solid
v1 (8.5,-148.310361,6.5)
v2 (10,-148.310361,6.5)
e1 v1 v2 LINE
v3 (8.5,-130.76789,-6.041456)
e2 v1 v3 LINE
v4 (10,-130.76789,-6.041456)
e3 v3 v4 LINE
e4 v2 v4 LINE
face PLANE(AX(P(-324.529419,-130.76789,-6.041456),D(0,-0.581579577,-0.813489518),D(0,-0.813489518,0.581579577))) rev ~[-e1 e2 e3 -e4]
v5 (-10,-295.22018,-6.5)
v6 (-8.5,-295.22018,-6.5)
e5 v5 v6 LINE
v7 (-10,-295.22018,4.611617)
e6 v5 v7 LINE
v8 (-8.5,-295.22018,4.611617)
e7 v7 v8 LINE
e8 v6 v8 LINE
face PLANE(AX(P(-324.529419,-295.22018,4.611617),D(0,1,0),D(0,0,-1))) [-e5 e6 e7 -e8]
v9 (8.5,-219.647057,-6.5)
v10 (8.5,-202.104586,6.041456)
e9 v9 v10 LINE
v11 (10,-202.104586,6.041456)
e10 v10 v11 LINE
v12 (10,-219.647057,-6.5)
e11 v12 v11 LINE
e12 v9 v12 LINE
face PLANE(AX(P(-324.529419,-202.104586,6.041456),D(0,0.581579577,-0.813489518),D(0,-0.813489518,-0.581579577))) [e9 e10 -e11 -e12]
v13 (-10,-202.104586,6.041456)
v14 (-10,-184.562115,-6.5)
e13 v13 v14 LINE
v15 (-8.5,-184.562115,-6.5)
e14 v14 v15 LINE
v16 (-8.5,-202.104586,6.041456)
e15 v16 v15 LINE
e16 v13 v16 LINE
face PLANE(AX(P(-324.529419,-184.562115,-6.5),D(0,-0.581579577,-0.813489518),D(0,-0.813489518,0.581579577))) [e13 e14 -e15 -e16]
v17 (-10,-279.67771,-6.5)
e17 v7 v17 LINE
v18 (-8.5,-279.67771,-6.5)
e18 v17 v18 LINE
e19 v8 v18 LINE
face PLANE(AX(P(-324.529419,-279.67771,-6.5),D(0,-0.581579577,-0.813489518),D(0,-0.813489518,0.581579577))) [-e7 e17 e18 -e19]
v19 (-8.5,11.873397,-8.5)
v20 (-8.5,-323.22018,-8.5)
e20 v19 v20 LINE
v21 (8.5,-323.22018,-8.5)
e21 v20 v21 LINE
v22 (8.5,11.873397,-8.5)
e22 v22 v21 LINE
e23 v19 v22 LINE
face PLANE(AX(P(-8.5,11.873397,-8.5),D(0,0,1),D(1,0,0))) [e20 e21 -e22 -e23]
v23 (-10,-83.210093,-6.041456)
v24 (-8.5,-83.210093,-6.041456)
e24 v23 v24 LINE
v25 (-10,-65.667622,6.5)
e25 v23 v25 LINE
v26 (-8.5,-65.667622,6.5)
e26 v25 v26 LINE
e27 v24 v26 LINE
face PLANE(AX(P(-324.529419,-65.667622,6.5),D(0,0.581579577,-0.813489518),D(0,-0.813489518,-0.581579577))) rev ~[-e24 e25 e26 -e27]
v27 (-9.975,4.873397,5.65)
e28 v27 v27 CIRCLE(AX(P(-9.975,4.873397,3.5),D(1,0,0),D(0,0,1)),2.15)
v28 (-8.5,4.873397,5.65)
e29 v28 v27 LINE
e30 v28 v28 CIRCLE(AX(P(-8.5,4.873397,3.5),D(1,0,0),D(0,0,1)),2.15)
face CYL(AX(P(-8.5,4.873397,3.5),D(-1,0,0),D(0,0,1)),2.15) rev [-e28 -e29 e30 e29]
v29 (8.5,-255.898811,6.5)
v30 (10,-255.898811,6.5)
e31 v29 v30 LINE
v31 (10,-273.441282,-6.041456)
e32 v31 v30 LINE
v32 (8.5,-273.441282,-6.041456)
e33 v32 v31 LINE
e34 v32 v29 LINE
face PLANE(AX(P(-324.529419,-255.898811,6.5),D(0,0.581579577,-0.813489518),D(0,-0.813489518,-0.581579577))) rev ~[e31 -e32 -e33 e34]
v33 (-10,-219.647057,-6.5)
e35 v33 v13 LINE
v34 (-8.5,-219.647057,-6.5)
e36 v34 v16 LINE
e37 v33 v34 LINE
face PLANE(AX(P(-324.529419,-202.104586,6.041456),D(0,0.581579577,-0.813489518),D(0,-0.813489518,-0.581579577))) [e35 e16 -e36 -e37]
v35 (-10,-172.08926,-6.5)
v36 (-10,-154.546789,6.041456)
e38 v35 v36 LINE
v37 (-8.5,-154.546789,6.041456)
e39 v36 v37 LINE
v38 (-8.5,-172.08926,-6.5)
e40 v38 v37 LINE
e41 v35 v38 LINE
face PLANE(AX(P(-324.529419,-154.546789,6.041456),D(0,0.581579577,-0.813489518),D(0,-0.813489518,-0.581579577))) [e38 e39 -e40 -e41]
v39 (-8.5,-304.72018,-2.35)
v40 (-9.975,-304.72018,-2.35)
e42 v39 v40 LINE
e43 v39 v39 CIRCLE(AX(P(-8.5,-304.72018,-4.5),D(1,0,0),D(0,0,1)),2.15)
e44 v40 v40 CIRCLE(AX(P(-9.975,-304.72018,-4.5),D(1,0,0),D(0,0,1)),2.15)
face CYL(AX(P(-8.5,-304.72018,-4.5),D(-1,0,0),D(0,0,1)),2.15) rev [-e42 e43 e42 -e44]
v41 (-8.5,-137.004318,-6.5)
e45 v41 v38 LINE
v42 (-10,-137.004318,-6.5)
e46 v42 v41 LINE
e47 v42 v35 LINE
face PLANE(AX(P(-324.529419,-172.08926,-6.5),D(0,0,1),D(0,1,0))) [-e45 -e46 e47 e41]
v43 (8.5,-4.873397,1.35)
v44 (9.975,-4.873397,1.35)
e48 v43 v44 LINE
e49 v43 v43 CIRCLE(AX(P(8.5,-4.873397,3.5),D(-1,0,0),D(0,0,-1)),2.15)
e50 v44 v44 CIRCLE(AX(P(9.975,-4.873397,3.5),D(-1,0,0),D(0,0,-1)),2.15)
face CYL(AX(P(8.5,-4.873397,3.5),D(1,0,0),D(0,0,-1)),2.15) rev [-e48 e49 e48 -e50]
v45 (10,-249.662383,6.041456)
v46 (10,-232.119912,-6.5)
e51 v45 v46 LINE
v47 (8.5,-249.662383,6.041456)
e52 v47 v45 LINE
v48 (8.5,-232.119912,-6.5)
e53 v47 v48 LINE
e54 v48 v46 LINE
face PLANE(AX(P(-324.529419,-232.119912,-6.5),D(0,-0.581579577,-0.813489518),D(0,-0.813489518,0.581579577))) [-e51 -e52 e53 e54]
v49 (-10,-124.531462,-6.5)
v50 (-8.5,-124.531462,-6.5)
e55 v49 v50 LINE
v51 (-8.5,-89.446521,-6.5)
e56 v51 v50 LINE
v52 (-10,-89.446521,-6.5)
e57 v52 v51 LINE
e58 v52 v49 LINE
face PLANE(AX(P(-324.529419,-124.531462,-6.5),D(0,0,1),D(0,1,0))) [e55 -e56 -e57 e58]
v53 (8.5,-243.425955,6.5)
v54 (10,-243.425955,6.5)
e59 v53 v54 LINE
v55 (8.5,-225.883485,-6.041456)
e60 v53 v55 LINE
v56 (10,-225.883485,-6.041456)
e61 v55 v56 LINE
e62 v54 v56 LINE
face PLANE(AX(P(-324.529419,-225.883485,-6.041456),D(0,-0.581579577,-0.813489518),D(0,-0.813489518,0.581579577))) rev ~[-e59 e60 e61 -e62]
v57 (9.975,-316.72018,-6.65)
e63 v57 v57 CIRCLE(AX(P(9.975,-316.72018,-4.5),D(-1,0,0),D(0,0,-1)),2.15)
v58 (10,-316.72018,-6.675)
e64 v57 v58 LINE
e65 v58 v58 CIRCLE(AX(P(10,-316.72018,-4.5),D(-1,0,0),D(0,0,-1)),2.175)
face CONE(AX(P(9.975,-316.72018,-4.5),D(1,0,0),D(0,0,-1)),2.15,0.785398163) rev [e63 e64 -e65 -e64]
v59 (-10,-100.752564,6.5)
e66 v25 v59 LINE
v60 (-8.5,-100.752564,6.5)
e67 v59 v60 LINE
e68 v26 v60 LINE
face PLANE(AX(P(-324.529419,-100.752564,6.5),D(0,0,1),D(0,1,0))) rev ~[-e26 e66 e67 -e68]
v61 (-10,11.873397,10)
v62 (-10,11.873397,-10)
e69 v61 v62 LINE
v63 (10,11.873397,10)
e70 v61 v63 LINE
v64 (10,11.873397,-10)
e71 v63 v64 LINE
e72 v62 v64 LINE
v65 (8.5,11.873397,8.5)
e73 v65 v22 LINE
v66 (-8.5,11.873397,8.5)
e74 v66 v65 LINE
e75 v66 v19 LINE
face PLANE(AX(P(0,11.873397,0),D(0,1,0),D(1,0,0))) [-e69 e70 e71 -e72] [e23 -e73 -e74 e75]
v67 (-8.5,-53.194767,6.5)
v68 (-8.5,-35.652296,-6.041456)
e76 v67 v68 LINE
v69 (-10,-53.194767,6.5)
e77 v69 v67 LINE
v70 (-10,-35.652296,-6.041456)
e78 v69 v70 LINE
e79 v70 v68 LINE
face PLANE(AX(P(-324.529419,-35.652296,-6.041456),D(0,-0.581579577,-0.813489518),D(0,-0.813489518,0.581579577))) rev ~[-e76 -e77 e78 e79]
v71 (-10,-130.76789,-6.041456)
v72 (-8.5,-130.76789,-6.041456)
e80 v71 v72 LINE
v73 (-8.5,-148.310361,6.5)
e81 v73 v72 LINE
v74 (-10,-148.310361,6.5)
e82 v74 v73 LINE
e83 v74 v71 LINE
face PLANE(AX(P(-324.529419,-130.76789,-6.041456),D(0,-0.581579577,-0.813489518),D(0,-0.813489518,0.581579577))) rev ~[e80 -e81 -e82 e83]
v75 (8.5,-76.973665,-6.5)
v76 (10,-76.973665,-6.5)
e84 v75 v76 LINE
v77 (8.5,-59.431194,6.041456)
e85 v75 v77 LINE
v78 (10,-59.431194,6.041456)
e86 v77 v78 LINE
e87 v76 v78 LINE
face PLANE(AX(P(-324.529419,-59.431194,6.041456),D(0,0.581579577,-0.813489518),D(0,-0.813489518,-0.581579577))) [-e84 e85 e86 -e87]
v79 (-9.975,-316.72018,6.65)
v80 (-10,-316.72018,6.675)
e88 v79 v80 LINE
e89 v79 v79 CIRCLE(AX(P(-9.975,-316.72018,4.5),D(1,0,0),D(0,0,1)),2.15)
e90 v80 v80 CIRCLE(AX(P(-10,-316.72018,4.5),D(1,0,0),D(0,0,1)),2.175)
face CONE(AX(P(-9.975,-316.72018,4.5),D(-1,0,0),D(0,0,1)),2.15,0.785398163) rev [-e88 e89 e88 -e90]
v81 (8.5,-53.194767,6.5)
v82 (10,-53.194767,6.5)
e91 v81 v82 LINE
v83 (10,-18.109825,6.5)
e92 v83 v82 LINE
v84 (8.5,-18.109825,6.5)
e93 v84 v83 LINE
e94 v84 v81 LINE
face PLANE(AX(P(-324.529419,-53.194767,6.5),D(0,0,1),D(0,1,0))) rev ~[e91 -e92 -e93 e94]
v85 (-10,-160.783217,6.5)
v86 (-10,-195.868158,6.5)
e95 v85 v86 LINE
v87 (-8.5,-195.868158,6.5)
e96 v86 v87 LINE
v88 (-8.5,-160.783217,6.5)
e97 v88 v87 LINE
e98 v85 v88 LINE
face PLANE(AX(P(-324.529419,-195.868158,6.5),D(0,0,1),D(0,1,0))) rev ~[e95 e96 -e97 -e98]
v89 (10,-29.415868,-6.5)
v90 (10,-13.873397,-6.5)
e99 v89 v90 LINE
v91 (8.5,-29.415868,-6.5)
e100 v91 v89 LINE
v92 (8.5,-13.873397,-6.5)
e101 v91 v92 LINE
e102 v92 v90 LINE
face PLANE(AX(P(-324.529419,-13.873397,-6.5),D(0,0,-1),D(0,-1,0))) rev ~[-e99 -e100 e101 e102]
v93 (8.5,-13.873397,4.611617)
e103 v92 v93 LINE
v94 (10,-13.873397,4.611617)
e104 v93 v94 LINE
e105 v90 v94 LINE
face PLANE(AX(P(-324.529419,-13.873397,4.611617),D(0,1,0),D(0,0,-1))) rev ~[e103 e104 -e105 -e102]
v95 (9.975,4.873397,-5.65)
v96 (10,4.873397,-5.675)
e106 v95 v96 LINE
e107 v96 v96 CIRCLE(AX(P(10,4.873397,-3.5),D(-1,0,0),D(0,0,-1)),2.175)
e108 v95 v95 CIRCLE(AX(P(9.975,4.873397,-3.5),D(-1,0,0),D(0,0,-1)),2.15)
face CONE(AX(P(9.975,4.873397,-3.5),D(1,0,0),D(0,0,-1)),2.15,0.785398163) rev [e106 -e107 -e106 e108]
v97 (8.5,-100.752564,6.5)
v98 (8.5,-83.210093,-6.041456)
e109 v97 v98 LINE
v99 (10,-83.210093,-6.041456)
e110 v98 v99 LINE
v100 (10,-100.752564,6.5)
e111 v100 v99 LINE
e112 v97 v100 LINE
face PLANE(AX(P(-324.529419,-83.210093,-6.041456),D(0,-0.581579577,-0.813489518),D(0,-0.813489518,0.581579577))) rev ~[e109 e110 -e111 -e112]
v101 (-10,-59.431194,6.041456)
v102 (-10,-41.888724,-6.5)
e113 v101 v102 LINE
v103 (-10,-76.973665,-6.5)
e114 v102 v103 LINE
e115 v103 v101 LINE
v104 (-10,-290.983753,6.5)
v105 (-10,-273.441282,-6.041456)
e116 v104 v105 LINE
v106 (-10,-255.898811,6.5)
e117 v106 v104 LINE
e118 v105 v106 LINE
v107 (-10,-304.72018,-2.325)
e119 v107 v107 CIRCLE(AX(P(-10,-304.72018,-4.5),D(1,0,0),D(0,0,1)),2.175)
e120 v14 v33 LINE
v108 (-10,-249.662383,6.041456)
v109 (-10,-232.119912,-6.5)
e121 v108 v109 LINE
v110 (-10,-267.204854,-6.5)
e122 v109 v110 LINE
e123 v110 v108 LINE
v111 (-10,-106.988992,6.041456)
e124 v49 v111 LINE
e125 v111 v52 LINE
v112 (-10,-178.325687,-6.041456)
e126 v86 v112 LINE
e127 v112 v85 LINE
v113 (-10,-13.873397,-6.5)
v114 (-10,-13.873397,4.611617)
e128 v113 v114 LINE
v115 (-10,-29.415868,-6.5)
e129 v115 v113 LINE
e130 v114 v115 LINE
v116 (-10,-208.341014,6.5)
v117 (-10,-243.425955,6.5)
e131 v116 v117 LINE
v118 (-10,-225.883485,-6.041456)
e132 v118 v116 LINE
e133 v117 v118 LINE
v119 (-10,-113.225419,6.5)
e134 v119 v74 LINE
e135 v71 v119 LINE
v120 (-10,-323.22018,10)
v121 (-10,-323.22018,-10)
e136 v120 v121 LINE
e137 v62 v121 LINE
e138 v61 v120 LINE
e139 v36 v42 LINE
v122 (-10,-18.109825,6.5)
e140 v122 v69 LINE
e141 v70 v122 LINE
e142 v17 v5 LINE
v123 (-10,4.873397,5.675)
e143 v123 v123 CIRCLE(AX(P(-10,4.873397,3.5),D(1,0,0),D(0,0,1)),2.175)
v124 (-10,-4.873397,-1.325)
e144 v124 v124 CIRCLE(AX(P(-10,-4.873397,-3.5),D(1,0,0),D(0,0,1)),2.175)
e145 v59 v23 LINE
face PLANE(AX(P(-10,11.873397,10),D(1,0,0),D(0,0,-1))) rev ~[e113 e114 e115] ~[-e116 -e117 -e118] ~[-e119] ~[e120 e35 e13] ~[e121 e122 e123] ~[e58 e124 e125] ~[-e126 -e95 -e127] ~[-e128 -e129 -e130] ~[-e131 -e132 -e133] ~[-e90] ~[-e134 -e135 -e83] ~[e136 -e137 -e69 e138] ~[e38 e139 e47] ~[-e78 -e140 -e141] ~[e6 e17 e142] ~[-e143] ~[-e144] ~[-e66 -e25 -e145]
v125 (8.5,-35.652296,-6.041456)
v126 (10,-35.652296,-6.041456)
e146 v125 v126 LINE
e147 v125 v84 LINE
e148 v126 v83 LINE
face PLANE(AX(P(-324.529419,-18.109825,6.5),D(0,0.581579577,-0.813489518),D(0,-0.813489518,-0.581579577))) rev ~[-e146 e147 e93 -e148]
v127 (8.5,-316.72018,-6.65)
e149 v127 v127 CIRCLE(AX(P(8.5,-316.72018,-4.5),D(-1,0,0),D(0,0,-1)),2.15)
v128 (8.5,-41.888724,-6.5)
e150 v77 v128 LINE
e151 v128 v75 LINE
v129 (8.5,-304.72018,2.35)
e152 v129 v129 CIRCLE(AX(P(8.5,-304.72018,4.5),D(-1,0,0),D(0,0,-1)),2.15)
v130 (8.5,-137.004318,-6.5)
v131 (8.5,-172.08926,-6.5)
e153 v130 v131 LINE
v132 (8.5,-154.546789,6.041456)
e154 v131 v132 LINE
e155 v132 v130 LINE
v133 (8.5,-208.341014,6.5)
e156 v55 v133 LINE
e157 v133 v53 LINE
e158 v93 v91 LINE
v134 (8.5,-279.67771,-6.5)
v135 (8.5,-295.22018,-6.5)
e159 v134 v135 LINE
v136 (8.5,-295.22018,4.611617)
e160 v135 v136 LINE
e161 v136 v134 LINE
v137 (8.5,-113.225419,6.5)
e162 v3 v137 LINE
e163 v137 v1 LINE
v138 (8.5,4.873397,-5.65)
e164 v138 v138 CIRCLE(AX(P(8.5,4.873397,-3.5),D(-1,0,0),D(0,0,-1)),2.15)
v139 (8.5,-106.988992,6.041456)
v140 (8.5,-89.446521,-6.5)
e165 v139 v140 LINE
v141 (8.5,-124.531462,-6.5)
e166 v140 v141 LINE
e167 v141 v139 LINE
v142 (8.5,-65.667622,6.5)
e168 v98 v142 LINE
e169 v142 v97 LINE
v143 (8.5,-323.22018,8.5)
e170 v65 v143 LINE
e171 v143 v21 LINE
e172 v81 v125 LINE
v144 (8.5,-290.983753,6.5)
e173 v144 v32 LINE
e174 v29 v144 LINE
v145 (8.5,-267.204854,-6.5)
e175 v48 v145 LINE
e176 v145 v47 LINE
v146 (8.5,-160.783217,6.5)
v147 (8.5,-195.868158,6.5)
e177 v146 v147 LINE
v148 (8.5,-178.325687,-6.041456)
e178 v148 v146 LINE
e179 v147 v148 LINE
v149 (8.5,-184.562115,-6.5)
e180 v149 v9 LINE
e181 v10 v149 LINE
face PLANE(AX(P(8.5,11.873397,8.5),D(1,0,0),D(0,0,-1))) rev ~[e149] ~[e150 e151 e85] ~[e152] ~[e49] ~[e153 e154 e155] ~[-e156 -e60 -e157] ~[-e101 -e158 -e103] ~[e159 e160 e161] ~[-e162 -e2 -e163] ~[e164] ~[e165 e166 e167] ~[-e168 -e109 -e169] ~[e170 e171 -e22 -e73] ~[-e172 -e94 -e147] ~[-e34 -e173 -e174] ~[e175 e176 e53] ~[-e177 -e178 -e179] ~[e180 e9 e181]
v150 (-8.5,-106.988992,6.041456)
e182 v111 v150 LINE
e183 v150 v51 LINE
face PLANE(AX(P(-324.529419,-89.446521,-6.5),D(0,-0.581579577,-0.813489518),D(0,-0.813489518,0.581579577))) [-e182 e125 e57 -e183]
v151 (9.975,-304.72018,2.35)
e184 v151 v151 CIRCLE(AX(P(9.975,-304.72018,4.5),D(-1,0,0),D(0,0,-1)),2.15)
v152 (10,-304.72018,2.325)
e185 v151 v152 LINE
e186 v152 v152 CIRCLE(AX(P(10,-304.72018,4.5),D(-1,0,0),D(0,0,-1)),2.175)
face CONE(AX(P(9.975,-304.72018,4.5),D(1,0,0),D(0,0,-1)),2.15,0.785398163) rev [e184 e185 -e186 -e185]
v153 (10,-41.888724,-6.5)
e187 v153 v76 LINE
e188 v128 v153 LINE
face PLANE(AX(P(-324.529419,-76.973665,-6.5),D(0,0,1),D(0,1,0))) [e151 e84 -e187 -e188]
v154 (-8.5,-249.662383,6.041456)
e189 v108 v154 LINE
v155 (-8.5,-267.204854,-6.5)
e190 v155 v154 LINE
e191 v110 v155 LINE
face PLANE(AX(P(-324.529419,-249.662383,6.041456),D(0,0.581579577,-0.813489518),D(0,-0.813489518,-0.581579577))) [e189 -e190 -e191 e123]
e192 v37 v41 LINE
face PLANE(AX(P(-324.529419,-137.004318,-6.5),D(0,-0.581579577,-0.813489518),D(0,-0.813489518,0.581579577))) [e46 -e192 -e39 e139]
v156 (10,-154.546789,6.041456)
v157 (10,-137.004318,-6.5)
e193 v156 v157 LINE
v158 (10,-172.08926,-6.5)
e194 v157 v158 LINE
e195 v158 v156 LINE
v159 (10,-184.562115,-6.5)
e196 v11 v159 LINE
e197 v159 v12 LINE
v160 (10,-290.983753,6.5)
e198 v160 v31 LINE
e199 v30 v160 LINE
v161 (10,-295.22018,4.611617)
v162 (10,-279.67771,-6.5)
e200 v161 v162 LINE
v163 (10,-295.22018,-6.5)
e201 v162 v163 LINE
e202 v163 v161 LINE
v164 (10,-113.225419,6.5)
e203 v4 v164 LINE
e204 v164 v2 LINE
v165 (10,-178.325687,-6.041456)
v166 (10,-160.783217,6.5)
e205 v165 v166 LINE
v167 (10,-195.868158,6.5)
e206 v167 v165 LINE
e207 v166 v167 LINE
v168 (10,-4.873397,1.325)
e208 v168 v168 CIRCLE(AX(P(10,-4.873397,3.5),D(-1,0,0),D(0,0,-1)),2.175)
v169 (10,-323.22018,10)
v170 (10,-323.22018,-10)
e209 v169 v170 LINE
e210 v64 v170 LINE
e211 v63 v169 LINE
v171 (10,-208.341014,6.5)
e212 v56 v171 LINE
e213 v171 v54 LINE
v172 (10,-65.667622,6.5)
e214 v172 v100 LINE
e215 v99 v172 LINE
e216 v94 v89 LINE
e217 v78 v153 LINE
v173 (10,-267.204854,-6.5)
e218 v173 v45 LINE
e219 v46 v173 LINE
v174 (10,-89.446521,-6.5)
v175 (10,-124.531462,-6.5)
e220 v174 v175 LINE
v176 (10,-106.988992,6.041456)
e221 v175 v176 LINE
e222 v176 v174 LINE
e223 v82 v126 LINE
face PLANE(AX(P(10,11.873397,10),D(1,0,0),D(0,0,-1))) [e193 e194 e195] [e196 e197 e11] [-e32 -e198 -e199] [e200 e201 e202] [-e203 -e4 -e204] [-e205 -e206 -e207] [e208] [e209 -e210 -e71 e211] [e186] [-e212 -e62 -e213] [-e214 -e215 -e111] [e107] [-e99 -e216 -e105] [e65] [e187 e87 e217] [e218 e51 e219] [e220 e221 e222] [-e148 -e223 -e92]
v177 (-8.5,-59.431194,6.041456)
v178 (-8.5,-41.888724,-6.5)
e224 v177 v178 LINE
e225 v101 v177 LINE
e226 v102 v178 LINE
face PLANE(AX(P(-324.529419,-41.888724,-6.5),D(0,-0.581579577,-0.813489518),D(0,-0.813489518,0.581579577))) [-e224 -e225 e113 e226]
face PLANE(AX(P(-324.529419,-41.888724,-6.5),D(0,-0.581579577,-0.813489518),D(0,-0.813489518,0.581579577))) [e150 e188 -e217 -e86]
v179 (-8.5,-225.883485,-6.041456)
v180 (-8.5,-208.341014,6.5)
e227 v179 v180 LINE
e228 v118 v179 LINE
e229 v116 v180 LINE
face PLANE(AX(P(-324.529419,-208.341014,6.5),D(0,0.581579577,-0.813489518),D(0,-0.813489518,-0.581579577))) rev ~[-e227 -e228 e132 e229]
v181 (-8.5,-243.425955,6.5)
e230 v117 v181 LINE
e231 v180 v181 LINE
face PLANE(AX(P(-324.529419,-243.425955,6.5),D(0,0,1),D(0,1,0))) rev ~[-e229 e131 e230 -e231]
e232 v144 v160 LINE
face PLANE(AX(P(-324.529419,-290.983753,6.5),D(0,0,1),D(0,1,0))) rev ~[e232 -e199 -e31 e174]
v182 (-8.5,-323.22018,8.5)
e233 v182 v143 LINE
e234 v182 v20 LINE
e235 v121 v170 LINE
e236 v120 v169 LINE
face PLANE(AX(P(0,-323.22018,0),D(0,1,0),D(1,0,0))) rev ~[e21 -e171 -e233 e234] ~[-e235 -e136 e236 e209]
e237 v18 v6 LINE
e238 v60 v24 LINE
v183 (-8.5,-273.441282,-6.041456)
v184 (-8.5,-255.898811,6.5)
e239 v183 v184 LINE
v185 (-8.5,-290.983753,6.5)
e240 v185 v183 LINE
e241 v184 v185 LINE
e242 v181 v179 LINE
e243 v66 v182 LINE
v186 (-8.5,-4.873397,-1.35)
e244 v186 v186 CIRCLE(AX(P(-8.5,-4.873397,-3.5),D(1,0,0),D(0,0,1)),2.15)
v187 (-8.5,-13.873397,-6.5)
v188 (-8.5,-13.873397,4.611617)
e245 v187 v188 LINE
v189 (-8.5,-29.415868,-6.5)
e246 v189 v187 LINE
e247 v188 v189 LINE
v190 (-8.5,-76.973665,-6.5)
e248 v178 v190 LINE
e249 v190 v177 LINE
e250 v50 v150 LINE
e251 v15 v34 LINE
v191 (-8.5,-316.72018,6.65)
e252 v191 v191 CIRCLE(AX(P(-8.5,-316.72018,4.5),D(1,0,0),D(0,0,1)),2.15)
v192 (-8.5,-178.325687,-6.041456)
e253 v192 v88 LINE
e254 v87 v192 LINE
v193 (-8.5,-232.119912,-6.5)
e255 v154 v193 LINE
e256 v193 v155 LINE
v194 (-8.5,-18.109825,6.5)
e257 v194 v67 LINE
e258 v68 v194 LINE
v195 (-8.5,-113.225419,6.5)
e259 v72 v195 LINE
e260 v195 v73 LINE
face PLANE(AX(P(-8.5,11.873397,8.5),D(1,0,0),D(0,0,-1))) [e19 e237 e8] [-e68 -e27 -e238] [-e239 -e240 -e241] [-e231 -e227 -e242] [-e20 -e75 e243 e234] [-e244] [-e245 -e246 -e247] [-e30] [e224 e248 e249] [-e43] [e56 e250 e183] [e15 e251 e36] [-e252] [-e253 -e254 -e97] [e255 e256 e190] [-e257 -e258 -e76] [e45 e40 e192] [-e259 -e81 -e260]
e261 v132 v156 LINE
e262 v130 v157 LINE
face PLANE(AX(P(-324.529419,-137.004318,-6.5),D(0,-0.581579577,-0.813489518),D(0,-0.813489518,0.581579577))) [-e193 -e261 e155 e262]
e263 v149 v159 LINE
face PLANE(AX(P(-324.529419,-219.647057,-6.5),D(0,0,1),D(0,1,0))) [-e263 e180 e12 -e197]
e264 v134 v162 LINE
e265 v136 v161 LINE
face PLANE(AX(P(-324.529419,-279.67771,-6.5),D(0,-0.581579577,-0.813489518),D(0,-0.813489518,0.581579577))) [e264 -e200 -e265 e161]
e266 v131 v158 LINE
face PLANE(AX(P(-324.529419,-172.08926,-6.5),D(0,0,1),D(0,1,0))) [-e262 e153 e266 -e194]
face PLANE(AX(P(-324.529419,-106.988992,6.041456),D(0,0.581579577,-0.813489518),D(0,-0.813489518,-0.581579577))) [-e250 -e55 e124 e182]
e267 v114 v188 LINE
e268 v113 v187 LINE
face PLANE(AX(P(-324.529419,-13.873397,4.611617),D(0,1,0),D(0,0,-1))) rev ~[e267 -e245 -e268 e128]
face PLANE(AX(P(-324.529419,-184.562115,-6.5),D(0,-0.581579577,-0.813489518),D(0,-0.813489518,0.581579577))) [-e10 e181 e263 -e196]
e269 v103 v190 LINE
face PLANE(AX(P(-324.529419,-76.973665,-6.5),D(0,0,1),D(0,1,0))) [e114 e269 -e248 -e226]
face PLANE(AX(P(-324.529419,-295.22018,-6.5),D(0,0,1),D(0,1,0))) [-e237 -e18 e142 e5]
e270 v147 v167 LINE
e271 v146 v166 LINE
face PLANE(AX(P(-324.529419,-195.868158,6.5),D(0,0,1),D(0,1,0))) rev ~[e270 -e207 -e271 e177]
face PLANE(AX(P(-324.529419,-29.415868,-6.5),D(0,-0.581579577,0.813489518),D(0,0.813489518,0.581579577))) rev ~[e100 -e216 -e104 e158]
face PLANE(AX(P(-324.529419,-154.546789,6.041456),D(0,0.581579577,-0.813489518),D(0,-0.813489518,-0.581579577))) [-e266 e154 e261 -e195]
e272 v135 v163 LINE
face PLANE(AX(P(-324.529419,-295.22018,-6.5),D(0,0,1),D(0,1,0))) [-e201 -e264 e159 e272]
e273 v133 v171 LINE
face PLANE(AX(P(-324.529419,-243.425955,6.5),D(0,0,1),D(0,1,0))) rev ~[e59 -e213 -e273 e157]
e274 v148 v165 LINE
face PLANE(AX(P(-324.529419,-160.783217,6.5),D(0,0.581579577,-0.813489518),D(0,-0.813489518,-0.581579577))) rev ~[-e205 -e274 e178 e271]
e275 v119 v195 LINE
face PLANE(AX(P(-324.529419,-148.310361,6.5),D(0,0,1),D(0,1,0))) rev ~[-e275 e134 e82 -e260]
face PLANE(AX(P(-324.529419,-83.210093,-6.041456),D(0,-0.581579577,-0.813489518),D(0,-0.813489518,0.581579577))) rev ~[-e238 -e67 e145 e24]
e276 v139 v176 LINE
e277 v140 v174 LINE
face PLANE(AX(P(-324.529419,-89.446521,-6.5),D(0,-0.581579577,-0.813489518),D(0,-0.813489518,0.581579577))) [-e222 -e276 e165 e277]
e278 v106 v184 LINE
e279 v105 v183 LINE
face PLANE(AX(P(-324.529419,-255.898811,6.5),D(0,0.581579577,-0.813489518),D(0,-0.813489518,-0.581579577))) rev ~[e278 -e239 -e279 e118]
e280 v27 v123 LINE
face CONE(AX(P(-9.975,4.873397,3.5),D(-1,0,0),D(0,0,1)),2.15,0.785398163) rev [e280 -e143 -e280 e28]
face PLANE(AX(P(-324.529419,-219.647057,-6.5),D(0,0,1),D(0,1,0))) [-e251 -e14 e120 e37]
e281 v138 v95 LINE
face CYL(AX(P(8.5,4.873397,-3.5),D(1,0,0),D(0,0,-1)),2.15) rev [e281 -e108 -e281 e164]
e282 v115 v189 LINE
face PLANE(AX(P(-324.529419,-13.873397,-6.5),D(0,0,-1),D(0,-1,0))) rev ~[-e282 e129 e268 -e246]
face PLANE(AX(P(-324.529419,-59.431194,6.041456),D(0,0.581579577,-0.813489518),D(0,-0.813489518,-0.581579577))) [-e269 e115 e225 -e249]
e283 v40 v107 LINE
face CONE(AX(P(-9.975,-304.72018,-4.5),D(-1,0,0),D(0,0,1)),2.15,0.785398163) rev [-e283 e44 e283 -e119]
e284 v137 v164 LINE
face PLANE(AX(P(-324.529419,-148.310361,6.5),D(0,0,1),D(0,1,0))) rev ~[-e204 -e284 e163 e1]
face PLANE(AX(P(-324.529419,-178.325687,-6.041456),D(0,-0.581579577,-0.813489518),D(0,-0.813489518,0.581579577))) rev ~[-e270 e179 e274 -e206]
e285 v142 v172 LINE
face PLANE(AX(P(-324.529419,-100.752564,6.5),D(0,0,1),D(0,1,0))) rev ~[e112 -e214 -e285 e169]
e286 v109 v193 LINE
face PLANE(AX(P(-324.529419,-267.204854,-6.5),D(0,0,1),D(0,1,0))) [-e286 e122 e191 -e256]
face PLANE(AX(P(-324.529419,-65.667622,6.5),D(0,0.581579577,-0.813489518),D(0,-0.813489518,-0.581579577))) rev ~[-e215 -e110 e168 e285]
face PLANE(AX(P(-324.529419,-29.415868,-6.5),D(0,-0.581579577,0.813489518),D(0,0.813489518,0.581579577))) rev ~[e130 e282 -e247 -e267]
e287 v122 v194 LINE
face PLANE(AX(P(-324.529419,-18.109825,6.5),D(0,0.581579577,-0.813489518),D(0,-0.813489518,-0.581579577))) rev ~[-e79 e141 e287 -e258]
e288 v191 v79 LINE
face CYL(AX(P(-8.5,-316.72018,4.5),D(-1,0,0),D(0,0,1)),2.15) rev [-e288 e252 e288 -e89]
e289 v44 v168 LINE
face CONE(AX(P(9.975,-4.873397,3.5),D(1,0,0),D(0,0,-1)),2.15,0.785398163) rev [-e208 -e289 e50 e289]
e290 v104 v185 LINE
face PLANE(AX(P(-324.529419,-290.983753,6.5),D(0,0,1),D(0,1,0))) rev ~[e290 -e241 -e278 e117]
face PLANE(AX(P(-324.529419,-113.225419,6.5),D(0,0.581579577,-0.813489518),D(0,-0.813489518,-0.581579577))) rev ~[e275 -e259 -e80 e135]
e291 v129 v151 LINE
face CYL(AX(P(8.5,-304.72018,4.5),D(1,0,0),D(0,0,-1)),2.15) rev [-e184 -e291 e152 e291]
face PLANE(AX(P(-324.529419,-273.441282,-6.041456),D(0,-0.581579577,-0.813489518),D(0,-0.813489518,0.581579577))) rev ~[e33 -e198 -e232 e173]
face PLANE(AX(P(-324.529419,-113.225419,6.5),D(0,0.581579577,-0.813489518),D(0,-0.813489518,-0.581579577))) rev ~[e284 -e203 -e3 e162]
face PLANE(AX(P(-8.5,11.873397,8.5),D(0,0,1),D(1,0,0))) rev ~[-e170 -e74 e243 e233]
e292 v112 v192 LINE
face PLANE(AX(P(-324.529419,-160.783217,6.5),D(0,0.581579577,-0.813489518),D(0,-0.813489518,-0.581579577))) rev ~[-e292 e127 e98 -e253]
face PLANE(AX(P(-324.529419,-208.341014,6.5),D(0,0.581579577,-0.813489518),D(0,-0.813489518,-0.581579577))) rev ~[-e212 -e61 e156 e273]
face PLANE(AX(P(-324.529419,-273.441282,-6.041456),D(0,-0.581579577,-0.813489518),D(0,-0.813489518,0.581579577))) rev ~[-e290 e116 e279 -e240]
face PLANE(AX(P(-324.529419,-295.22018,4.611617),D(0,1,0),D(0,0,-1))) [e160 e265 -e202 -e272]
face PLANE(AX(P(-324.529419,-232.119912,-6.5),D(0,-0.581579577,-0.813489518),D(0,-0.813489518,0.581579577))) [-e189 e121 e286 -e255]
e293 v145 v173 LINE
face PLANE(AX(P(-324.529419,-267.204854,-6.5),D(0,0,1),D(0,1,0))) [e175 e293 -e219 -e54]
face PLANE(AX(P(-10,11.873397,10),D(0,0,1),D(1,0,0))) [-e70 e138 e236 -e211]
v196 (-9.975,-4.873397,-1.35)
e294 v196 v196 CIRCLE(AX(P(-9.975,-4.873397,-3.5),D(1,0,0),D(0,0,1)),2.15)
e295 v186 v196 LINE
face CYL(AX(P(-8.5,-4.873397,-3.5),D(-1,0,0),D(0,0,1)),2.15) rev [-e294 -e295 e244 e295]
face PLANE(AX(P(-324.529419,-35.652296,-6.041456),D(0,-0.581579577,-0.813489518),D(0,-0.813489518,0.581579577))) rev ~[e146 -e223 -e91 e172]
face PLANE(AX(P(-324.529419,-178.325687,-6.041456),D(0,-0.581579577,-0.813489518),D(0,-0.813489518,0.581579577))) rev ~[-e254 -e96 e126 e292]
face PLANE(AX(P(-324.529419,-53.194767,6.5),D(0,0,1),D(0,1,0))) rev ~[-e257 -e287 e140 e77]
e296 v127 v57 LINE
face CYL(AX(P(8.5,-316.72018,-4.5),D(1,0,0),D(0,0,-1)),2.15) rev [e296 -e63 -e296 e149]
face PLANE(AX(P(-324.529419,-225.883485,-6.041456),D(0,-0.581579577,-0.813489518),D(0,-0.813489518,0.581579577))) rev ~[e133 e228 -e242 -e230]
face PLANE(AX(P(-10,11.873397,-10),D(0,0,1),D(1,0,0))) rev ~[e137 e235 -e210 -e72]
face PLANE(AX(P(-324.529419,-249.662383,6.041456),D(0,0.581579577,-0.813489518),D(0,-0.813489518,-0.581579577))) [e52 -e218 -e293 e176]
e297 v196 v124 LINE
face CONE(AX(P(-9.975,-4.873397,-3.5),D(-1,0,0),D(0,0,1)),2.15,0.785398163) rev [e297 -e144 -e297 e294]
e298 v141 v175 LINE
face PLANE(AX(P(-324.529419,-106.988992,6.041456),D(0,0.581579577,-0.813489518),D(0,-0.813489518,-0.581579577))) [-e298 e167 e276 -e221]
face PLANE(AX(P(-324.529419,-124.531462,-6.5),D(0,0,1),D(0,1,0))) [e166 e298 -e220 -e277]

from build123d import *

# Parameters (mm, degrees)
BOSS_EXTRUDE1_START           = 11.873397
SKETCH2_W                     = 20
SKETCH2_H                     = 20
SKETCH2_W_2                   = 17
SKETCH2_H_2                   = 17
BOSS_EXTRUDE1_DEPTH           = 335.093577
M4_CLEARANCE_HOLE1_AT_2_COUNT = 2
M4_CLEARANCE_HOLE1_AT_2_PITCH = 12
M4_CLEARANCE_HOLE2_AT_2_COUNT = 2
M4_CLEARANCE_HOLE2_AT_2_PITCH = 12
M4_CLEARANCE_HOLE3_AT_2_COUNT = 2
M4_CLEARANCE_HOLE3_AT_2_PITCH = 14.999999999
M4_CLEARANCE_HOLE4_AT_2_COUNT = 2
M4_CLEARANCE_HOLE4_AT_2_PITCH = 14.999999999
CUT_EXTRUDE1_DEPTH            = 324.529418692
CUT_EXTRUDE1_DEPTH_BACK       = 324.529418692


with BuildPart() as part:
    # Sketch2 → Boss-Extrude1 (new body)
    with BuildSketch(Plane(origin=(0, 0, 0), x_dir=(1, 0, 0), z_dir=(0, 1, 0)).offset(BOSS_EXTRUDE1_START)):
        Rectangle(SKETCH2_W, SKETCH2_H)
        Rectangle(SKETCH2_W_2, SKETCH2_H_2, mode=Mode.SUBTRACT)
    extrude(amount=-BOSS_EXTRUDE1_DEPTH)

    # Sketch5 → M4 Clearance Hole1 (revolve, cut)
    with BuildSketch(Plane(origin=(-10, 4.873397172, 3.5), x_dir=(0, 0, 1), z_dir=(0, 1, 0))):
        Polygon((0, 0), (0, 1.5), (2.15, 1.5), (2.15, 0.025), (2.175, 0), align=None)
    m4_clearance_hole1 = revolve(axis=Axis((-16.35, 4.873397172, 3.5), (1, 0, 0)), mode=Mode.SUBTRACT)

    # M4 Clearance Hole1 at 2: M4 Clearance Hole1 ×2
    with Locations(*[Vector(0, -0.8122328620674136, -0.5833333333333335) * (i * M4_CLEARANCE_HOLE1_AT_2_PITCH) for i in range(1, M4_CLEARANCE_HOLE1_AT_2_COUNT)]):
        add(m4_clearance_hole1, mode=Mode.SUBTRACT)

    # Sketch8 → M4 Clearance Hole2 (revolve, cut)
    with BuildSketch(Plane(origin=(10, 4.873397172, -3.5), x_dir=(0, 0, -1), z_dir=(0, 1, 0))):
        Polygon((0, 0), (0, 1.5), (2.15, 1.5), (2.15, 0.025), (2.175, 0), align=None)
    m4_clearance_hole2 = revolve(axis=Axis((16.35, 4.873397172, -3.5), (-1, 0, 0)), mode=Mode.SUBTRACT)

    # M4 Clearance Hole2 at 2: M4 Clearance Hole2 ×2
    with Locations(*[Vector(0, -0.8122328620674134, 0.5833333333333337) * (i * M4_CLEARANCE_HOLE2_AT_2_PITCH) for i in range(1, M4_CLEARANCE_HOLE2_AT_2_COUNT)]):
        add(m4_clearance_hole2, mode=Mode.SUBTRACT)

    # Sketch10 → M4 Clearance Hole3 (revolve, cut)
    with BuildSketch(Plane(origin=(-10, -304.720180379, -4.5), x_dir=(0, 0, 1), z_dir=(0, 1, 0))):
        Polygon((0, 0), (0, 1.5), (2.15, 1.5), (2.15, 0.025), (2.175, 0), align=None)
    m4_clearance_hole3 = revolve(axis=Axis((-16.35, -304.720180379, -4.5), (1, 0, 0)), mode=Mode.SUBTRACT)

    # M4 Clearance Hole3 at 2: M4 Clearance Hole3 ×2
    with Locations(*[Vector(0, -0.7999999999715266, 0.6000000000379647) * (i * M4_CLEARANCE_HOLE3_AT_2_PITCH) for i in range(1, M4_CLEARANCE_HOLE3_AT_2_COUNT)]):
        add(m4_clearance_hole3, mode=Mode.SUBTRACT)

    # Sketch12 → M4 Clearance Hole4 (revolve, cut)
    with BuildSketch(Plane(origin=(10, -304.720180379, 4.5), x_dir=(0, 0, -1), z_dir=(0, 1, 0))):
        Polygon((0, 0), (0, 1.5), (2.15, 1.5), (2.15, 0.025), (2.175, 0), align=None)
    m4_clearance_hole4 = revolve(axis=Axis((16.35, -304.720180379, 4.5), (-1, 0, 0)), mode=Mode.SUBTRACT)

    # M4 Clearance Hole4 at 2: M4 Clearance Hole4 ×2
    with Locations(*[Vector(0, -0.7999999999715265, -0.6000000000379647) * (i * M4_CLEARANCE_HOLE4_AT_2_PITCH) for i in range(1, M4_CLEARANCE_HOLE4_AT_2_COUNT)]):
        add(m4_clearance_hole4, mode=Mode.SUBTRACT)

    # Sketch13 → Cut-Extrude1 (cut, two sides: drawn at the far end of the back side and taken through both)
    with BuildSketch(Plane(origin=(0, 0, 0), x_dir=(0, 0, -1), z_dir=(1, 0, 0)).offset(-CUT_EXTRUDE1_DEPTH_BACK)):
        Polygon((6.5, -279.677709563), (-4.611616577, -295.220180379), (6.5, -295.220180379), align=None)
        Polygon((-6.5, -255.898810962), (6.04145572, -273.441281778), (-6.5, -290.983752595), align=None)
        Polygon((6.5, -232.119912362), (-6.04145572, -249.662383178), (6.5, -267.204853994), align=None)
        Polygon((-6.5, -208.341013761), (6.04145572, -225.883484577), (-6.5, -243.425955393), align=None)
        Polygon((6.5, -184.56211516), (-6.04145572, -202.104585977), (6.5, -219.647056793), align=None)
        Polygon((-6.5, -160.78321656), (6.04145572, -178.325687376), (-6.5, -195.868158192), align=None)
        Polygon((6.5, -137.004317959), (-6.04145572, -154.546788776), (6.5, -172.089259592), align=None)
        Polygon((-6.5, -113.225419359), (6.04145572, -130.767890175), (-6.5, -148.310360991), align=None)
        Polygon((6.5, -89.446520758), (-6.04145572, -106.988991575), (6.5, -124.531462391), align=None)
        Polygon((-6.5, -65.667622158), (6.04145572, -83.210092974), (-6.5, -100.75256379), align=None)
        Polygon((-6.04145572, -59.431194373), (6.5, -76.97366519), (6.5, -41.888723557), align=None)
        Polygon((-6.5, -18.109824957), (6.04145572, -35.652295773), (-6.5, -53.194766589), align=None)
        Polygon((6.5, -13.873397172), (6.5, -29.415867989), (-4.611616577, -13.873397172), align=None)
    extrude(amount=CUT_EXTRUDE1_DEPTH + CUT_EXTRUDE1_DEPTH_BACK, mode=Mode.SUBTRACT)


solid = part.part
